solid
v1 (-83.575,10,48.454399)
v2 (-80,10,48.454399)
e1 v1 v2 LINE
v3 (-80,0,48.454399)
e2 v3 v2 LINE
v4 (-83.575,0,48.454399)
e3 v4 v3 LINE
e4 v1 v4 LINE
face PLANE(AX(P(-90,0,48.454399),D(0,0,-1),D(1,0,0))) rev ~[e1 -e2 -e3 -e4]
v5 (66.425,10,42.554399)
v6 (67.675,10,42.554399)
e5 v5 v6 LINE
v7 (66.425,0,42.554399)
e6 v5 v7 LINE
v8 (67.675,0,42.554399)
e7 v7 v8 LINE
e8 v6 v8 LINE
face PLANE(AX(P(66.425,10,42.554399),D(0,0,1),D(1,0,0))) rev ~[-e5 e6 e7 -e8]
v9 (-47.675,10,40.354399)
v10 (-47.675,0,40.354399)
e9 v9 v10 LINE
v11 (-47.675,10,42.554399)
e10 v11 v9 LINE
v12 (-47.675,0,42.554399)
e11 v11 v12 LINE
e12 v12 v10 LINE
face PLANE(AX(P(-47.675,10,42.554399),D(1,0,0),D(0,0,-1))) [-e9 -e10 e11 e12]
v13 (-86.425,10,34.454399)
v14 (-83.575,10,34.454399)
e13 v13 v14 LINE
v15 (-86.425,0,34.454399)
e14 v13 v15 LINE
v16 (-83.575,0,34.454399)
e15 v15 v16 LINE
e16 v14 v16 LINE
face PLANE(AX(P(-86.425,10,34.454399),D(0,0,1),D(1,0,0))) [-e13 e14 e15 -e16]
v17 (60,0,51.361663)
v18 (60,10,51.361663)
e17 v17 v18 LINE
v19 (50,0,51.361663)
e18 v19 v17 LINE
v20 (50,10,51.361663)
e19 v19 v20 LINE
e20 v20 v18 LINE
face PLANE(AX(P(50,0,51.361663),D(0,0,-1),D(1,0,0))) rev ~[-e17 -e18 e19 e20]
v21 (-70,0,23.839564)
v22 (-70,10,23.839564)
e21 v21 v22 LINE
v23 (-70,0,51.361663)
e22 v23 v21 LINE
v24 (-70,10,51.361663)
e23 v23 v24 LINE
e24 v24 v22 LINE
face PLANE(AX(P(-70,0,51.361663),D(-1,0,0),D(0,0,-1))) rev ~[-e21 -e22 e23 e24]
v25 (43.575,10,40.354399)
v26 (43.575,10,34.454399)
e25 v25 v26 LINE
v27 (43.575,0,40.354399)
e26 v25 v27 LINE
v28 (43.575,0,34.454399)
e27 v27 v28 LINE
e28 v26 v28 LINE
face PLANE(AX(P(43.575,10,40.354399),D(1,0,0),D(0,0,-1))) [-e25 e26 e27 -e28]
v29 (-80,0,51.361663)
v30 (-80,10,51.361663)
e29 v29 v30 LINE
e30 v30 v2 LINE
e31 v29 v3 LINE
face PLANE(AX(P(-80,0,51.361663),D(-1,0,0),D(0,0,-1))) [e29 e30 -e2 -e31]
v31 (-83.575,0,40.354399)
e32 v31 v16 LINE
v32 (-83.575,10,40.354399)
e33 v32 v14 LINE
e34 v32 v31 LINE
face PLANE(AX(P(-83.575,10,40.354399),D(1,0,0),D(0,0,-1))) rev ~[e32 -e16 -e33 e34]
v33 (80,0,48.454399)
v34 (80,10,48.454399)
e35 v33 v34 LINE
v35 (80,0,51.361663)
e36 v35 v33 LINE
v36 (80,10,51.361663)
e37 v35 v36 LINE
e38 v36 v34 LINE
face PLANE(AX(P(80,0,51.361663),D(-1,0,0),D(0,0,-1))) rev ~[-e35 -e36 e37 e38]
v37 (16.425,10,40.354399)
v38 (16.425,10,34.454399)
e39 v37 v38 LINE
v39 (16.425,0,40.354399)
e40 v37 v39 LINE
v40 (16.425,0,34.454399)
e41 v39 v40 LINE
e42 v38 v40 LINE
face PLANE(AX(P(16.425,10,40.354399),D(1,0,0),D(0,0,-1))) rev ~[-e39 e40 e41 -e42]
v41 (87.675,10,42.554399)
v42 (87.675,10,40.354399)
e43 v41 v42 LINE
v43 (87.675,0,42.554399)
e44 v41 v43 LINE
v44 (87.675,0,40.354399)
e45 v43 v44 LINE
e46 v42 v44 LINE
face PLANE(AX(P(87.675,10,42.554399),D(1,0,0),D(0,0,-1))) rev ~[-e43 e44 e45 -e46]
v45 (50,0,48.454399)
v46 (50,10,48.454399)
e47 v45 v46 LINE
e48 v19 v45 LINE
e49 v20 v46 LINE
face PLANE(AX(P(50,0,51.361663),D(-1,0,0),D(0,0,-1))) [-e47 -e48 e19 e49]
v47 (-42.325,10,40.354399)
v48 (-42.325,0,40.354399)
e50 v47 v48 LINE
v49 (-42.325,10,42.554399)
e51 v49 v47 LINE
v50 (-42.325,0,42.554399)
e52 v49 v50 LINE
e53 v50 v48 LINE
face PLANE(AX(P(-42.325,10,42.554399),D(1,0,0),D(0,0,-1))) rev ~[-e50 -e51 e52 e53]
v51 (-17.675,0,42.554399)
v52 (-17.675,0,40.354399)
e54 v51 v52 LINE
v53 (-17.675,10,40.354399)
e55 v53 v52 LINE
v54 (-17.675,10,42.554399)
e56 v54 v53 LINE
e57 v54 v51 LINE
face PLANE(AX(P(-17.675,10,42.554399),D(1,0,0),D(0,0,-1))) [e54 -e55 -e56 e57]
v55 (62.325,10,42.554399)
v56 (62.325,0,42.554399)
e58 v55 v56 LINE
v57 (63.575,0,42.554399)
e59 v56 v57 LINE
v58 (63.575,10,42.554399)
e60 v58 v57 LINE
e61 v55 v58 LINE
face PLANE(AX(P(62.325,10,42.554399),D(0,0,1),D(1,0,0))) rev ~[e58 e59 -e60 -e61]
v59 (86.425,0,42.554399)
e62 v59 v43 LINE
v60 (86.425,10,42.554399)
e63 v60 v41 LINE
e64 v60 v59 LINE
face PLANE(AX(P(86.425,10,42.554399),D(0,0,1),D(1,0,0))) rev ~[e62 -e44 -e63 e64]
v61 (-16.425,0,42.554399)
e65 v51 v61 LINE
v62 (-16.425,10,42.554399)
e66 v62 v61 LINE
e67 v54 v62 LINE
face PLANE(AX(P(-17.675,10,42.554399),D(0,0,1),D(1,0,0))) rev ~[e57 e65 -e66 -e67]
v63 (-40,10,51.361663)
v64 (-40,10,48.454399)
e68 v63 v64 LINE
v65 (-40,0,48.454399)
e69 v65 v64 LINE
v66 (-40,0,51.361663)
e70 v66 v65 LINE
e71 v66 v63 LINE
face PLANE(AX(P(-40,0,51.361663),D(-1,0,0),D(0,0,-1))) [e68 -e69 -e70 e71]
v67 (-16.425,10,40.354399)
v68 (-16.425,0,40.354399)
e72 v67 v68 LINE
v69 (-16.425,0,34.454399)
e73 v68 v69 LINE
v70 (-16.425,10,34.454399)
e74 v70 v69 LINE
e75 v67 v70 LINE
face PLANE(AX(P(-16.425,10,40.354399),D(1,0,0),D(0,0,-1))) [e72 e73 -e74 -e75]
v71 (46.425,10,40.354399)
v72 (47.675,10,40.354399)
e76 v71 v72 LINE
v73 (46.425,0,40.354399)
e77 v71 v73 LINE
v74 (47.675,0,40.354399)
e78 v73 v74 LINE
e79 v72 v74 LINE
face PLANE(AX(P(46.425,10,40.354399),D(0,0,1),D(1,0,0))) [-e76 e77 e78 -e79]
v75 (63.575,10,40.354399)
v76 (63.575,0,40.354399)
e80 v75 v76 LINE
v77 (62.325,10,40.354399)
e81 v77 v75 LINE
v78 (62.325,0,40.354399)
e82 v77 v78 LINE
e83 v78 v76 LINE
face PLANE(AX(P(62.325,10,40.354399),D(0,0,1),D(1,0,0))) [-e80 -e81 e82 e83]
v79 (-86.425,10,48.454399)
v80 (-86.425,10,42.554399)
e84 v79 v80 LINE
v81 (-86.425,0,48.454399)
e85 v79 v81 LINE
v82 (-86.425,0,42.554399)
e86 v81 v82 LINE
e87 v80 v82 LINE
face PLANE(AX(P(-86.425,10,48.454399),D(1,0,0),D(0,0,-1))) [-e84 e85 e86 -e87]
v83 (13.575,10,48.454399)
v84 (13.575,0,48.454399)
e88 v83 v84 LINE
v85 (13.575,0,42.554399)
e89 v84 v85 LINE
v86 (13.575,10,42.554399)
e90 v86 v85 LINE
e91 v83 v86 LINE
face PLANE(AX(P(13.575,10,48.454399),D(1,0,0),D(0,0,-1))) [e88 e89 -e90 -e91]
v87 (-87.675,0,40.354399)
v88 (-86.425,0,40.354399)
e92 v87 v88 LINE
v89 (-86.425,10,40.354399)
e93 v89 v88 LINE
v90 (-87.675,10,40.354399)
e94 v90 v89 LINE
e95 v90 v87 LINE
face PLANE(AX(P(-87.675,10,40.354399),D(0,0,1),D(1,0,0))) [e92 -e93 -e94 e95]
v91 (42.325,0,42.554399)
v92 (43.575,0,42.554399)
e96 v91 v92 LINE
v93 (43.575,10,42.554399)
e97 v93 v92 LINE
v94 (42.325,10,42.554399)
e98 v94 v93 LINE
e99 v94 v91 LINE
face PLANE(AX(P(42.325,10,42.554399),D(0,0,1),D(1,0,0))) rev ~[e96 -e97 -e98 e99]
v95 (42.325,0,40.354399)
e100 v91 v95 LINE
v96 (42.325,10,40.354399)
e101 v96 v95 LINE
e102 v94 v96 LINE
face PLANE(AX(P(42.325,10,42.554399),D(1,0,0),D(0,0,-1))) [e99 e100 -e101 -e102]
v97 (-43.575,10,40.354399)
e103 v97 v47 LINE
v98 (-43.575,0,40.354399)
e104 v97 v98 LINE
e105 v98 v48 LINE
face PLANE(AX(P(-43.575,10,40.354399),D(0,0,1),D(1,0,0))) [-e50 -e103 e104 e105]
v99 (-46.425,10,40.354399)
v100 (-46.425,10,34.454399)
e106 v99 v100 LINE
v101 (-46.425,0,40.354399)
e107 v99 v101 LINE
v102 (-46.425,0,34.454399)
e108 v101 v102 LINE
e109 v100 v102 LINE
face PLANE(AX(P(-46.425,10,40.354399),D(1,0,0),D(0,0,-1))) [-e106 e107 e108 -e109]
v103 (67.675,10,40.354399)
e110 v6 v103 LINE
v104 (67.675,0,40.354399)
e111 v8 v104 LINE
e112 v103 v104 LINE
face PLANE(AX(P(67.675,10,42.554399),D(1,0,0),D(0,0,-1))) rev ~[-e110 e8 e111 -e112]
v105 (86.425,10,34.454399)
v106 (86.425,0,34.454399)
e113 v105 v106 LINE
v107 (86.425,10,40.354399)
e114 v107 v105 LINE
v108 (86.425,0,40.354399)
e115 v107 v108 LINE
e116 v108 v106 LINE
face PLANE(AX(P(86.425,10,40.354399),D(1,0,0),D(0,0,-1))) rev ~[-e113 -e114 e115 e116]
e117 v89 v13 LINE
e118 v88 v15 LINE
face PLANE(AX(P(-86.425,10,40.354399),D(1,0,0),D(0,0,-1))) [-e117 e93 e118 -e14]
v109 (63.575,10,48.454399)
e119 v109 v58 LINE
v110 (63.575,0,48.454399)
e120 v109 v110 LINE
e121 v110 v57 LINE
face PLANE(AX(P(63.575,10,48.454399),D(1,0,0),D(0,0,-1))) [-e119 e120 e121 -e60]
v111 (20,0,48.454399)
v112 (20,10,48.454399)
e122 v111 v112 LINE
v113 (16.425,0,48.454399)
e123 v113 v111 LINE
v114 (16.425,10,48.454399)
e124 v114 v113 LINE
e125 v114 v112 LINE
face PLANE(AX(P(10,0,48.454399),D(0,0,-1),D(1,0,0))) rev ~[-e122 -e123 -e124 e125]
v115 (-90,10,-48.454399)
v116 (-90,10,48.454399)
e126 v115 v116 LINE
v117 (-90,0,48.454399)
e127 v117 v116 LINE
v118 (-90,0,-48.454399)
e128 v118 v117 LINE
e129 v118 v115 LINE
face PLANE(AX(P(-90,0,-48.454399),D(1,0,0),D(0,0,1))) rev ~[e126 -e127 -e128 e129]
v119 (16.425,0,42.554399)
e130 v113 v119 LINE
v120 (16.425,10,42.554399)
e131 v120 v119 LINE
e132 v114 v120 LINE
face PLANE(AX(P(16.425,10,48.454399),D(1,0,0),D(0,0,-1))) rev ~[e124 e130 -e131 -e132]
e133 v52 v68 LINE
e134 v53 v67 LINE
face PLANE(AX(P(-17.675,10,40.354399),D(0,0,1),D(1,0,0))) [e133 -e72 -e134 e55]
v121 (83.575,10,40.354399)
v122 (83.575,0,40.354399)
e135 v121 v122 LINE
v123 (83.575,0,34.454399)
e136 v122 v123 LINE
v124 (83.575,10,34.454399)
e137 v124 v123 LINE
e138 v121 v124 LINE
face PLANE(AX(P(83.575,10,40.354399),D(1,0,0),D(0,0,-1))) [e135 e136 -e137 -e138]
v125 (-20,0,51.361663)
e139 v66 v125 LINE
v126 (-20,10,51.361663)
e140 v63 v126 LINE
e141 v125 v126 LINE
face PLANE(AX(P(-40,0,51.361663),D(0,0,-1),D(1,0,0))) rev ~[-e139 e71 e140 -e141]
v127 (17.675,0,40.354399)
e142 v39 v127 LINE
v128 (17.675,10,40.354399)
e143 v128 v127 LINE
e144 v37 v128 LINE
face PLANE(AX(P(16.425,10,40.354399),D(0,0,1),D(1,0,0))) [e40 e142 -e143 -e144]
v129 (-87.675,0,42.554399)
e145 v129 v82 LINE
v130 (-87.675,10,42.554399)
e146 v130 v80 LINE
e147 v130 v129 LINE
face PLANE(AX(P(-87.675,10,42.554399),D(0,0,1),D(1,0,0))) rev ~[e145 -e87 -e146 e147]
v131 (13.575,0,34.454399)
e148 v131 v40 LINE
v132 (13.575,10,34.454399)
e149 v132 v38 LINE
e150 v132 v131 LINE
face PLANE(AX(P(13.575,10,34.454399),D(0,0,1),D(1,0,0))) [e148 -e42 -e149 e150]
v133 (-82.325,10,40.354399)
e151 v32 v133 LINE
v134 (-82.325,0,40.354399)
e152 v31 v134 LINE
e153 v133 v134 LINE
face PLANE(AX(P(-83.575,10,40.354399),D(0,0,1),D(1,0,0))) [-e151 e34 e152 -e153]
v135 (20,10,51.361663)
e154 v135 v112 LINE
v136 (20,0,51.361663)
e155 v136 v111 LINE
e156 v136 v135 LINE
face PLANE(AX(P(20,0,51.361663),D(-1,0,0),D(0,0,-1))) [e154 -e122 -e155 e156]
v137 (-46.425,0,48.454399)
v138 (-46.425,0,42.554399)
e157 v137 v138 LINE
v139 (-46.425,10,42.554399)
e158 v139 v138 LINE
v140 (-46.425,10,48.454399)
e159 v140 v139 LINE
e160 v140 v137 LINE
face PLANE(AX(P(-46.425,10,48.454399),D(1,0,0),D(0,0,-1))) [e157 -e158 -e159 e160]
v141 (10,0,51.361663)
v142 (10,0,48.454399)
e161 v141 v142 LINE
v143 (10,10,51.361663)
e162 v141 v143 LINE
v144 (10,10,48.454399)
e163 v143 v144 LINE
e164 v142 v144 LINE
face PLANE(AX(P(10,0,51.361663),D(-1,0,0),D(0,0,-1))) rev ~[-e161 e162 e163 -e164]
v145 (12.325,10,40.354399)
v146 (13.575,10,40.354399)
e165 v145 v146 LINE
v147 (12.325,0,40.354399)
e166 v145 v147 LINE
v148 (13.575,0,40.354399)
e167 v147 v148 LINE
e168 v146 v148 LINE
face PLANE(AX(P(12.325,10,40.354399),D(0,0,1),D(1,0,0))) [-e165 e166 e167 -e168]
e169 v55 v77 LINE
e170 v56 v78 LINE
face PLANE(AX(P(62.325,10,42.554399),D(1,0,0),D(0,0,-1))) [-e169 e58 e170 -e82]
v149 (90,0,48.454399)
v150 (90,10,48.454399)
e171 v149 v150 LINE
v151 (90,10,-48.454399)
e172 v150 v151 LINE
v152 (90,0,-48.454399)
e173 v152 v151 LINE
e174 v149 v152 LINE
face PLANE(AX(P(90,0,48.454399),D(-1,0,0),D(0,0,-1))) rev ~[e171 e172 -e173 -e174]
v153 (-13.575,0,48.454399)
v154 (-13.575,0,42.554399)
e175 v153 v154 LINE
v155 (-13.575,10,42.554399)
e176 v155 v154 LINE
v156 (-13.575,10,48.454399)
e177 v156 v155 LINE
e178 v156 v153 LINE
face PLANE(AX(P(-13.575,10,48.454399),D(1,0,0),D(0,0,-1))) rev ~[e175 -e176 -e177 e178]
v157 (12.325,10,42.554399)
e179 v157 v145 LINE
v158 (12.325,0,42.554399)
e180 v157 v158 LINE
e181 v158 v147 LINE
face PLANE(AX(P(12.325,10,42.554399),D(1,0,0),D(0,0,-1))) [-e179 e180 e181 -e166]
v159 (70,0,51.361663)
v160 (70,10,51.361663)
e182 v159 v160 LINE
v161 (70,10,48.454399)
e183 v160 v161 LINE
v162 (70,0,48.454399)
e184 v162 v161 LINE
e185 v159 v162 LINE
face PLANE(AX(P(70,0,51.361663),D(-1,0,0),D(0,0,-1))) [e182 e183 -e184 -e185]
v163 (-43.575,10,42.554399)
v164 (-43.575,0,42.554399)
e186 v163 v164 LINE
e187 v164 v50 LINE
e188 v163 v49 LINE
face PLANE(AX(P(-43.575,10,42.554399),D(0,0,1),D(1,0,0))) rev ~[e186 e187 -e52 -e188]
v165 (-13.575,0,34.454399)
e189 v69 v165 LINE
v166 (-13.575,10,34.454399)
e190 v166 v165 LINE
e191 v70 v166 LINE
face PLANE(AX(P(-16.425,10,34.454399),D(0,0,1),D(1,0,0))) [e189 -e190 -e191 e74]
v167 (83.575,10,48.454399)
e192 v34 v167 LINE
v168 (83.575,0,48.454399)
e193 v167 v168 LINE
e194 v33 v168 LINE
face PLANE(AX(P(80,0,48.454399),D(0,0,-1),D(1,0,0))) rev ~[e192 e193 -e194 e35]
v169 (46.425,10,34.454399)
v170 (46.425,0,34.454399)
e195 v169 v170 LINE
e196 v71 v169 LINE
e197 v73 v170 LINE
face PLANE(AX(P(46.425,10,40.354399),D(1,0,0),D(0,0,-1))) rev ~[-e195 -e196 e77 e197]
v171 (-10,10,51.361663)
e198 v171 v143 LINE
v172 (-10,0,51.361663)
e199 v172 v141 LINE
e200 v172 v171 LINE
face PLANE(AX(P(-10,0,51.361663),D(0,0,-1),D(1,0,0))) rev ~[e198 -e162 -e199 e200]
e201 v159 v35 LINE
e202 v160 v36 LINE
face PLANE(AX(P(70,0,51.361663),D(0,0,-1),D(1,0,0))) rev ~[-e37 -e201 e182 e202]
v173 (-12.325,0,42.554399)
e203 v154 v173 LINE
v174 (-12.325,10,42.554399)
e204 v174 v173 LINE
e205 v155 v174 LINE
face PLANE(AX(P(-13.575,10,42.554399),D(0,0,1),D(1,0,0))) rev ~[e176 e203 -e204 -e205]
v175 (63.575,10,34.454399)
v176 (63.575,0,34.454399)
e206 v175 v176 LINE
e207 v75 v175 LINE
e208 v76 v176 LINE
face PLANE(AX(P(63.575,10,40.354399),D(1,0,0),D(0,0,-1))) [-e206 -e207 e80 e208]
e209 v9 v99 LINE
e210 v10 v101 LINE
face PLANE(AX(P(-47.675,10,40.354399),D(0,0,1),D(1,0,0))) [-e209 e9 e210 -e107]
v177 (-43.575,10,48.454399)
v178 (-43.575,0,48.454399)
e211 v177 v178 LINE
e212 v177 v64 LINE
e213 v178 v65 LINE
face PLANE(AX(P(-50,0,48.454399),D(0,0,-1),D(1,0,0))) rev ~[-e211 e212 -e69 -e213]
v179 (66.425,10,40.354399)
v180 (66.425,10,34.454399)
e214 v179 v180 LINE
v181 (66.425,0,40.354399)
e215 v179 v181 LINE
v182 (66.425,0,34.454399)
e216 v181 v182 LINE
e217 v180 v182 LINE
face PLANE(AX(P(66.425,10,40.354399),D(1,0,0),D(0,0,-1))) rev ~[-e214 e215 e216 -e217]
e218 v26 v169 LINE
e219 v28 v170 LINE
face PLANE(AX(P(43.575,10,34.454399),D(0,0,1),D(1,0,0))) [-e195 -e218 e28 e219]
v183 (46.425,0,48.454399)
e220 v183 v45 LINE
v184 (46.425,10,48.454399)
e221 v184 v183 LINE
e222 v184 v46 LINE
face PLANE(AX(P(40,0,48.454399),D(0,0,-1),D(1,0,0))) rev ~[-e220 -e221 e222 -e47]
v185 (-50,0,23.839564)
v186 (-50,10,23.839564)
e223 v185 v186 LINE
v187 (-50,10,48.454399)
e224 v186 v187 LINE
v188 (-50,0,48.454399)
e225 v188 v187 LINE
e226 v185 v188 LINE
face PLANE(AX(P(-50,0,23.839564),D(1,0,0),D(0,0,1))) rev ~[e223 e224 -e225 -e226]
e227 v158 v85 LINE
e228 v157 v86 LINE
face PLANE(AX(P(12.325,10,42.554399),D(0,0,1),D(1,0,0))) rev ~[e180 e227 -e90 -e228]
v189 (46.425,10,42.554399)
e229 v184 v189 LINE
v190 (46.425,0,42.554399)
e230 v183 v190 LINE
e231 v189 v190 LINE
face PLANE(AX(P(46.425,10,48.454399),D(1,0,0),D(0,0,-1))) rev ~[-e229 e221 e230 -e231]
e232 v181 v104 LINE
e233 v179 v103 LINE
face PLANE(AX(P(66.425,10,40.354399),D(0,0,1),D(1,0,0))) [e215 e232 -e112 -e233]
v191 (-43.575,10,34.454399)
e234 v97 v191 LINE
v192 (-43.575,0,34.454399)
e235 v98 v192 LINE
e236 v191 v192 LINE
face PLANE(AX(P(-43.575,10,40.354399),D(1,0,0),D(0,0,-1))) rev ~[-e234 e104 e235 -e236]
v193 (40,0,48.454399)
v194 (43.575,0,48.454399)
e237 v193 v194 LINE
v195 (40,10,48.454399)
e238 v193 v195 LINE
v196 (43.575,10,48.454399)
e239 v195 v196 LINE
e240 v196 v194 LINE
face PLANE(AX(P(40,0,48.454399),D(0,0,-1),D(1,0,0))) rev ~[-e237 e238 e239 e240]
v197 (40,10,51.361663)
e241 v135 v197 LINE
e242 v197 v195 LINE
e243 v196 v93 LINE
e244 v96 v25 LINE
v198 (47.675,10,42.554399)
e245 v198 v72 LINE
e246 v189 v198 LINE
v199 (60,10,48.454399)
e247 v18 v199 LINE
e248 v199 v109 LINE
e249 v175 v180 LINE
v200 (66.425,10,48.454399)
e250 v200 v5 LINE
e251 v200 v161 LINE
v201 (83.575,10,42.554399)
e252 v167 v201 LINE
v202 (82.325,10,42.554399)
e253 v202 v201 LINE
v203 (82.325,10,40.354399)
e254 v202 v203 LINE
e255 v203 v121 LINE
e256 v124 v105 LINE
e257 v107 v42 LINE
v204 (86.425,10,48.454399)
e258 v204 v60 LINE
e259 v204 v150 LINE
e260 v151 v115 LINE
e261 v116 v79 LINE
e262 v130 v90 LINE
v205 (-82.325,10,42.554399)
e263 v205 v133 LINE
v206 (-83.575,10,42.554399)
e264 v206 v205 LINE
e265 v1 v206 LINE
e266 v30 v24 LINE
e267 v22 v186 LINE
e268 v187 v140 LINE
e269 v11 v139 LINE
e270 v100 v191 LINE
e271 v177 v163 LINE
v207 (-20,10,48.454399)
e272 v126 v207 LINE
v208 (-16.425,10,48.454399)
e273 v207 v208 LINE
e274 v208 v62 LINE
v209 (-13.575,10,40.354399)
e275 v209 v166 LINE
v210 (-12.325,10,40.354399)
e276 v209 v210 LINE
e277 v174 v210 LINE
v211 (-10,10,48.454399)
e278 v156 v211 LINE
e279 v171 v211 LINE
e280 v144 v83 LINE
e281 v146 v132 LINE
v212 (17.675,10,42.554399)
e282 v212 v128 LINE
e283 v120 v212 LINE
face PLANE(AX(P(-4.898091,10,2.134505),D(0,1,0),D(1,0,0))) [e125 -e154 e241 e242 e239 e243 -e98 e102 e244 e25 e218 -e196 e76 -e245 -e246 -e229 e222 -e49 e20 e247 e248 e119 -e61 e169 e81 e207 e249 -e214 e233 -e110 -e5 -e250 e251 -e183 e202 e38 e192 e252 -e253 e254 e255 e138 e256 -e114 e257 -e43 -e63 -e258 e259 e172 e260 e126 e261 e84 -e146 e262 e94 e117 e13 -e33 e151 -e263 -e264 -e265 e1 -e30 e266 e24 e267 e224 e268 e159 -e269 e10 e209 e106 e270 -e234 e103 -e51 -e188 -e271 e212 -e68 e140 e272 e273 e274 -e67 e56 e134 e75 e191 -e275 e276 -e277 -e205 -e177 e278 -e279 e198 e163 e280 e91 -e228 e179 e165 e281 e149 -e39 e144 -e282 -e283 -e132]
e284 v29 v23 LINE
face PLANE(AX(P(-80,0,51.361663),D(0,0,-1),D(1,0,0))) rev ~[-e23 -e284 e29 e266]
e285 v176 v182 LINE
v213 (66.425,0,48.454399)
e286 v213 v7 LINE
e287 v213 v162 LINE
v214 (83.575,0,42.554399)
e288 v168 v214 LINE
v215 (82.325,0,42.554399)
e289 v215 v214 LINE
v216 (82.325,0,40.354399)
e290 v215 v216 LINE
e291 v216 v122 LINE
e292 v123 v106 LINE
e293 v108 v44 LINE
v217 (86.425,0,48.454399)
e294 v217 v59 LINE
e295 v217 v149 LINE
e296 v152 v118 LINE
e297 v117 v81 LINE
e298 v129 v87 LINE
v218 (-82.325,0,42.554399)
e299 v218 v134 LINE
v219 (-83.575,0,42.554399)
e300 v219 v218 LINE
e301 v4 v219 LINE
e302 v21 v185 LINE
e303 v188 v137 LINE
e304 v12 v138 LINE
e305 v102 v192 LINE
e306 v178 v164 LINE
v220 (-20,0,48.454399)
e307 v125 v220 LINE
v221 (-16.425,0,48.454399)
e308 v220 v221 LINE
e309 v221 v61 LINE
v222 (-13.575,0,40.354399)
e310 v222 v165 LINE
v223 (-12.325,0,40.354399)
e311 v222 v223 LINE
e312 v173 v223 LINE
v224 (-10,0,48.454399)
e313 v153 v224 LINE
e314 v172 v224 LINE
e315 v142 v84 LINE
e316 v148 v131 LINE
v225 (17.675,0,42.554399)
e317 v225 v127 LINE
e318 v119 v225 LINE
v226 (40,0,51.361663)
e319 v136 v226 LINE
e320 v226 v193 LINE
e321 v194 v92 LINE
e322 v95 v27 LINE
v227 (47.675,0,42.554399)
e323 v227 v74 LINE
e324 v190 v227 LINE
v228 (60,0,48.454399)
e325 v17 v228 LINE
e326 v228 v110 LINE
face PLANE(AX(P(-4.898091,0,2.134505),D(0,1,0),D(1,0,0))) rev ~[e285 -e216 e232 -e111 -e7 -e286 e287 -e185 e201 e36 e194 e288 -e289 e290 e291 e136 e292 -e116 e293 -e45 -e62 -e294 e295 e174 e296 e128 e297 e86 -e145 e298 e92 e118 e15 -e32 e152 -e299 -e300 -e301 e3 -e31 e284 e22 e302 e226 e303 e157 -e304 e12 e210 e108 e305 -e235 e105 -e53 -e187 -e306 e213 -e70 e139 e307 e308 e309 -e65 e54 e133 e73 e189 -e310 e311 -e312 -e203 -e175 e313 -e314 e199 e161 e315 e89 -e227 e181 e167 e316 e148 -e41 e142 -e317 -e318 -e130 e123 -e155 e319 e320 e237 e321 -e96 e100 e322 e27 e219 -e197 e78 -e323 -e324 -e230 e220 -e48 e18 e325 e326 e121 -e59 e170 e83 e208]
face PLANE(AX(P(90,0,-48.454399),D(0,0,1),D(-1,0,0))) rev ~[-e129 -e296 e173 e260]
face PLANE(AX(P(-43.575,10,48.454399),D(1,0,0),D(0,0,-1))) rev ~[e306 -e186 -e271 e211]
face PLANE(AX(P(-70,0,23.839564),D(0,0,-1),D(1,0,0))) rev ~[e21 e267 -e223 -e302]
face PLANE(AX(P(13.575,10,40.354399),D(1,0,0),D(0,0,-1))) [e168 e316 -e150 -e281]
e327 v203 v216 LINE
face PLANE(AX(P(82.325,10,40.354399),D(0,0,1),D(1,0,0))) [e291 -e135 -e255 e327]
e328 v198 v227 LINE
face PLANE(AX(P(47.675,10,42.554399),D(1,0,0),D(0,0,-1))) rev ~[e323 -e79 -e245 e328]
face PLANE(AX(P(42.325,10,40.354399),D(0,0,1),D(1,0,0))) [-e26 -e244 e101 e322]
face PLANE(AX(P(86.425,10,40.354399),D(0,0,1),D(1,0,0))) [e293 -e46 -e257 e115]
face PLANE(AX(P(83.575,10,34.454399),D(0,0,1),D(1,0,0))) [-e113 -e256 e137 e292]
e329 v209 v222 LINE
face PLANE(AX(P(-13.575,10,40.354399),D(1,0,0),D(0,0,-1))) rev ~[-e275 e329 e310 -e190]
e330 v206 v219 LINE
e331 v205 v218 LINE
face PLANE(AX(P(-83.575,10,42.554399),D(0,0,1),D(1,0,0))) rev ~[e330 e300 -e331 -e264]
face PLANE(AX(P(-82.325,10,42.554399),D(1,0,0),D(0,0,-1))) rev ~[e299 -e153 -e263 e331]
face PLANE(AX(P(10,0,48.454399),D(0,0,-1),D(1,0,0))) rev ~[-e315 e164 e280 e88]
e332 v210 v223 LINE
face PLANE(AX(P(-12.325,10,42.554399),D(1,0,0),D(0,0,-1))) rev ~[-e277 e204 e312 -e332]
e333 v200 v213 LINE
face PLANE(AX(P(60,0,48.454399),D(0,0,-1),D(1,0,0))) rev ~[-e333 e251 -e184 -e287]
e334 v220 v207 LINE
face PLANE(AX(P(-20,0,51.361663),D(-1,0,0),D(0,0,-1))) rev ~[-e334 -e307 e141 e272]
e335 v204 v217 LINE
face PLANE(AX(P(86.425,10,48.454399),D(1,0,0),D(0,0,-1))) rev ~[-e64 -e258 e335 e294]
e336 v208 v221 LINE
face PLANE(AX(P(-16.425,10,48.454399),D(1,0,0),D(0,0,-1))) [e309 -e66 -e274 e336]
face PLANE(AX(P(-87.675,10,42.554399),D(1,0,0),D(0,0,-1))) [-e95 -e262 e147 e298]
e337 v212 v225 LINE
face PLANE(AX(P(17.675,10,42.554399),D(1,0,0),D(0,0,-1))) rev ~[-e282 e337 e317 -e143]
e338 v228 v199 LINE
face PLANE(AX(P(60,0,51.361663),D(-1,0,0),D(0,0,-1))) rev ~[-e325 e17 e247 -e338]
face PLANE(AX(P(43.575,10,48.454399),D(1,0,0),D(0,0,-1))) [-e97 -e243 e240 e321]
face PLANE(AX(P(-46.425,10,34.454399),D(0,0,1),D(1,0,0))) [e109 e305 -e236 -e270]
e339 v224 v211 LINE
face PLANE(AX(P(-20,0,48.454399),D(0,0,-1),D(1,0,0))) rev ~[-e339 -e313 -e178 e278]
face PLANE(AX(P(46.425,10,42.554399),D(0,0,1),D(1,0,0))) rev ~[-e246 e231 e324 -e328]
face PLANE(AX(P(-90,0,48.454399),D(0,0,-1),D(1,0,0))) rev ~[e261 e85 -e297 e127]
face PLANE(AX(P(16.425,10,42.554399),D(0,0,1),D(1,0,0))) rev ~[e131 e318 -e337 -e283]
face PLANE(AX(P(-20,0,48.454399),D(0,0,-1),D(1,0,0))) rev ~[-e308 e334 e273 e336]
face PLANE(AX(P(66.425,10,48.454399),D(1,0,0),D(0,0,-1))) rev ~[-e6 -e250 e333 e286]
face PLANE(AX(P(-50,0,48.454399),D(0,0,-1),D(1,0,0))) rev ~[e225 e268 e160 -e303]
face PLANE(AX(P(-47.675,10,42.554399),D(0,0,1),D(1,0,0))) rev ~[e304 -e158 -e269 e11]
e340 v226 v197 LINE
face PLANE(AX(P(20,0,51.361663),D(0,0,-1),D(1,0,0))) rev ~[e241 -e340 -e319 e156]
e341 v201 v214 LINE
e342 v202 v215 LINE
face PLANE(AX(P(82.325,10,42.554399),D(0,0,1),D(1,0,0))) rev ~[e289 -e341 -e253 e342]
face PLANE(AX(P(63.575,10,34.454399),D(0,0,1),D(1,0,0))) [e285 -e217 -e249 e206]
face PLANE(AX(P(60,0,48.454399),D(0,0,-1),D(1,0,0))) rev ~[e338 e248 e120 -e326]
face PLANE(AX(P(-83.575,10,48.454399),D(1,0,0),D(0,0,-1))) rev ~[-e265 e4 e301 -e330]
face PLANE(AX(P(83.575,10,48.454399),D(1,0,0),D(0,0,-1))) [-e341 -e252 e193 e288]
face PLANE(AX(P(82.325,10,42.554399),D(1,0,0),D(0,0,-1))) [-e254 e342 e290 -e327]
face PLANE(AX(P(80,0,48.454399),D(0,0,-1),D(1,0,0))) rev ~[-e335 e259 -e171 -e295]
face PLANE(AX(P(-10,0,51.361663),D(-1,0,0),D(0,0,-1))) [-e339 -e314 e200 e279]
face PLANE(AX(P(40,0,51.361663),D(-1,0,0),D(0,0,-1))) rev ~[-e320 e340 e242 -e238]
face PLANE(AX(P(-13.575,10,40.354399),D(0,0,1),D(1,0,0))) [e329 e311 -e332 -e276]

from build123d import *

# Parameters (mm, degrees)
SKETCH1_W           = 10
SKETCH1_H           = 2.907263933
SKETCH1_W_2         = 20
BOSS_EXTRUDE1_DEPTH = 10
SKETCH3_W           = 2.85
SKETCH3_H           = 14
SKETCH3_W_2         = 5.35
SKETCH3_H_2         = 2.2
CUT_EXTRUDE1_DEPTH  = 10


with BuildPart() as part:
    # Sketch1 → Boss-Extrude1 (new body)
    with BuildSketch(Plane(origin=(0, 0, 0), x_dir=(1, 0, 0), z_dir=(0, 1, 0))):
        Polygon((80, -48.454398885), (90, -48.454398885), (90, 48.454398885), (-90, 48.454398885), (-90, -48.454398885), (-80, -48.454398885), (-70, -48.454398885), (-70, -23.839564252), (-50, -23.839564252), (-50, -48.454398885), (-40, -48.454398885), (-20, -48.454398885), (-10, -48.454398885), (10, -48.454398885), (20, -48.454398885), (40, -48.454398885), (50, -48.454398885), (60, -48.454398885), (70, -48.454398885), align=None)
        with Locations((-75, -49.908030852)):
            Rectangle(SKETCH1_W, SKETCH1_H)
        with Locations((-30, -49.908030852)):
            Rectangle(SKETCH1_W_2, SKETCH1_H)
        with Locations((0, -49.908030852)):
            Rectangle(SKETCH1_W_2, SKETCH1_H)
        with Locations((30, -49.908030852)):
            Rectangle(SKETCH1_W_2, SKETCH1_H)
        with Locations((55, -49.908030852)):
            Rectangle(SKETCH1_W, SKETCH1_H)
        with Locations((75, -49.908030852)):
            Rectangle(SKETCH1_W, SKETCH1_H)
    extrude(amount=BOSS_EXTRUDE1_DEPTH)

    # Sketch3 → Cut-Extrude1 (cut)
    with BuildSketch(Plane(origin=(0, 10, 0), x_dir=(1, 0, 0), z_dir=(0, 1, 0))):
        with Locations((-85, -41.454398885)):
            Rectangle(SKETCH3_W, SKETCH3_H)
        with Locations((-85, -41.454398885)):
            Rectangle(SKETCH3_W_2, SKETCH3_H_2)
        with Locations((-45, -41.454398885)):
            Rectangle(SKETCH3_W, SKETCH3_H)
        with Locations((-45, -41.454398885)):
            Rectangle(SKETCH3_W_2, SKETCH3_H_2)
        with Locations((-15, -41.454398885)):
            Rectangle(SKETCH3_W, SKETCH3_H)
        with Locations((-15, -41.454398885)):
            Rectangle(SKETCH3_W_2, SKETCH3_H_2)
        with Locations((15, -41.454398885)):
            Rectangle(SKETCH3_W, SKETCH3_H)
        with Locations((15, -41.454398885)):
            Rectangle(SKETCH3_W_2, SKETCH3_H_2)
        with Locations((45, -41.454398885)):
            Rectangle(SKETCH3_W, SKETCH3_H)
        with Locations((45, -41.454398885)):
            Rectangle(SKETCH3_W_2, SKETCH3_H_2)
        with Locations((65, -41.454398885)):
            Rectangle(SKETCH3_W, SKETCH3_H)
        with Locations((65, -41.454398885)):
            Rectangle(SKETCH3_W_2, SKETCH3_H_2)
        with Locations((85, -41.454398885)):
            Rectangle(SKETCH3_W, SKETCH3_H)
        with Locations((85, -41.454398885)):
            Rectangle(SKETCH3_W_2, SKETCH3_H_2)
    extrude(amount=-CUT_EXTRUDE1_DEPTH, mode=Mode.SUBTRACT)


solid = part.part
